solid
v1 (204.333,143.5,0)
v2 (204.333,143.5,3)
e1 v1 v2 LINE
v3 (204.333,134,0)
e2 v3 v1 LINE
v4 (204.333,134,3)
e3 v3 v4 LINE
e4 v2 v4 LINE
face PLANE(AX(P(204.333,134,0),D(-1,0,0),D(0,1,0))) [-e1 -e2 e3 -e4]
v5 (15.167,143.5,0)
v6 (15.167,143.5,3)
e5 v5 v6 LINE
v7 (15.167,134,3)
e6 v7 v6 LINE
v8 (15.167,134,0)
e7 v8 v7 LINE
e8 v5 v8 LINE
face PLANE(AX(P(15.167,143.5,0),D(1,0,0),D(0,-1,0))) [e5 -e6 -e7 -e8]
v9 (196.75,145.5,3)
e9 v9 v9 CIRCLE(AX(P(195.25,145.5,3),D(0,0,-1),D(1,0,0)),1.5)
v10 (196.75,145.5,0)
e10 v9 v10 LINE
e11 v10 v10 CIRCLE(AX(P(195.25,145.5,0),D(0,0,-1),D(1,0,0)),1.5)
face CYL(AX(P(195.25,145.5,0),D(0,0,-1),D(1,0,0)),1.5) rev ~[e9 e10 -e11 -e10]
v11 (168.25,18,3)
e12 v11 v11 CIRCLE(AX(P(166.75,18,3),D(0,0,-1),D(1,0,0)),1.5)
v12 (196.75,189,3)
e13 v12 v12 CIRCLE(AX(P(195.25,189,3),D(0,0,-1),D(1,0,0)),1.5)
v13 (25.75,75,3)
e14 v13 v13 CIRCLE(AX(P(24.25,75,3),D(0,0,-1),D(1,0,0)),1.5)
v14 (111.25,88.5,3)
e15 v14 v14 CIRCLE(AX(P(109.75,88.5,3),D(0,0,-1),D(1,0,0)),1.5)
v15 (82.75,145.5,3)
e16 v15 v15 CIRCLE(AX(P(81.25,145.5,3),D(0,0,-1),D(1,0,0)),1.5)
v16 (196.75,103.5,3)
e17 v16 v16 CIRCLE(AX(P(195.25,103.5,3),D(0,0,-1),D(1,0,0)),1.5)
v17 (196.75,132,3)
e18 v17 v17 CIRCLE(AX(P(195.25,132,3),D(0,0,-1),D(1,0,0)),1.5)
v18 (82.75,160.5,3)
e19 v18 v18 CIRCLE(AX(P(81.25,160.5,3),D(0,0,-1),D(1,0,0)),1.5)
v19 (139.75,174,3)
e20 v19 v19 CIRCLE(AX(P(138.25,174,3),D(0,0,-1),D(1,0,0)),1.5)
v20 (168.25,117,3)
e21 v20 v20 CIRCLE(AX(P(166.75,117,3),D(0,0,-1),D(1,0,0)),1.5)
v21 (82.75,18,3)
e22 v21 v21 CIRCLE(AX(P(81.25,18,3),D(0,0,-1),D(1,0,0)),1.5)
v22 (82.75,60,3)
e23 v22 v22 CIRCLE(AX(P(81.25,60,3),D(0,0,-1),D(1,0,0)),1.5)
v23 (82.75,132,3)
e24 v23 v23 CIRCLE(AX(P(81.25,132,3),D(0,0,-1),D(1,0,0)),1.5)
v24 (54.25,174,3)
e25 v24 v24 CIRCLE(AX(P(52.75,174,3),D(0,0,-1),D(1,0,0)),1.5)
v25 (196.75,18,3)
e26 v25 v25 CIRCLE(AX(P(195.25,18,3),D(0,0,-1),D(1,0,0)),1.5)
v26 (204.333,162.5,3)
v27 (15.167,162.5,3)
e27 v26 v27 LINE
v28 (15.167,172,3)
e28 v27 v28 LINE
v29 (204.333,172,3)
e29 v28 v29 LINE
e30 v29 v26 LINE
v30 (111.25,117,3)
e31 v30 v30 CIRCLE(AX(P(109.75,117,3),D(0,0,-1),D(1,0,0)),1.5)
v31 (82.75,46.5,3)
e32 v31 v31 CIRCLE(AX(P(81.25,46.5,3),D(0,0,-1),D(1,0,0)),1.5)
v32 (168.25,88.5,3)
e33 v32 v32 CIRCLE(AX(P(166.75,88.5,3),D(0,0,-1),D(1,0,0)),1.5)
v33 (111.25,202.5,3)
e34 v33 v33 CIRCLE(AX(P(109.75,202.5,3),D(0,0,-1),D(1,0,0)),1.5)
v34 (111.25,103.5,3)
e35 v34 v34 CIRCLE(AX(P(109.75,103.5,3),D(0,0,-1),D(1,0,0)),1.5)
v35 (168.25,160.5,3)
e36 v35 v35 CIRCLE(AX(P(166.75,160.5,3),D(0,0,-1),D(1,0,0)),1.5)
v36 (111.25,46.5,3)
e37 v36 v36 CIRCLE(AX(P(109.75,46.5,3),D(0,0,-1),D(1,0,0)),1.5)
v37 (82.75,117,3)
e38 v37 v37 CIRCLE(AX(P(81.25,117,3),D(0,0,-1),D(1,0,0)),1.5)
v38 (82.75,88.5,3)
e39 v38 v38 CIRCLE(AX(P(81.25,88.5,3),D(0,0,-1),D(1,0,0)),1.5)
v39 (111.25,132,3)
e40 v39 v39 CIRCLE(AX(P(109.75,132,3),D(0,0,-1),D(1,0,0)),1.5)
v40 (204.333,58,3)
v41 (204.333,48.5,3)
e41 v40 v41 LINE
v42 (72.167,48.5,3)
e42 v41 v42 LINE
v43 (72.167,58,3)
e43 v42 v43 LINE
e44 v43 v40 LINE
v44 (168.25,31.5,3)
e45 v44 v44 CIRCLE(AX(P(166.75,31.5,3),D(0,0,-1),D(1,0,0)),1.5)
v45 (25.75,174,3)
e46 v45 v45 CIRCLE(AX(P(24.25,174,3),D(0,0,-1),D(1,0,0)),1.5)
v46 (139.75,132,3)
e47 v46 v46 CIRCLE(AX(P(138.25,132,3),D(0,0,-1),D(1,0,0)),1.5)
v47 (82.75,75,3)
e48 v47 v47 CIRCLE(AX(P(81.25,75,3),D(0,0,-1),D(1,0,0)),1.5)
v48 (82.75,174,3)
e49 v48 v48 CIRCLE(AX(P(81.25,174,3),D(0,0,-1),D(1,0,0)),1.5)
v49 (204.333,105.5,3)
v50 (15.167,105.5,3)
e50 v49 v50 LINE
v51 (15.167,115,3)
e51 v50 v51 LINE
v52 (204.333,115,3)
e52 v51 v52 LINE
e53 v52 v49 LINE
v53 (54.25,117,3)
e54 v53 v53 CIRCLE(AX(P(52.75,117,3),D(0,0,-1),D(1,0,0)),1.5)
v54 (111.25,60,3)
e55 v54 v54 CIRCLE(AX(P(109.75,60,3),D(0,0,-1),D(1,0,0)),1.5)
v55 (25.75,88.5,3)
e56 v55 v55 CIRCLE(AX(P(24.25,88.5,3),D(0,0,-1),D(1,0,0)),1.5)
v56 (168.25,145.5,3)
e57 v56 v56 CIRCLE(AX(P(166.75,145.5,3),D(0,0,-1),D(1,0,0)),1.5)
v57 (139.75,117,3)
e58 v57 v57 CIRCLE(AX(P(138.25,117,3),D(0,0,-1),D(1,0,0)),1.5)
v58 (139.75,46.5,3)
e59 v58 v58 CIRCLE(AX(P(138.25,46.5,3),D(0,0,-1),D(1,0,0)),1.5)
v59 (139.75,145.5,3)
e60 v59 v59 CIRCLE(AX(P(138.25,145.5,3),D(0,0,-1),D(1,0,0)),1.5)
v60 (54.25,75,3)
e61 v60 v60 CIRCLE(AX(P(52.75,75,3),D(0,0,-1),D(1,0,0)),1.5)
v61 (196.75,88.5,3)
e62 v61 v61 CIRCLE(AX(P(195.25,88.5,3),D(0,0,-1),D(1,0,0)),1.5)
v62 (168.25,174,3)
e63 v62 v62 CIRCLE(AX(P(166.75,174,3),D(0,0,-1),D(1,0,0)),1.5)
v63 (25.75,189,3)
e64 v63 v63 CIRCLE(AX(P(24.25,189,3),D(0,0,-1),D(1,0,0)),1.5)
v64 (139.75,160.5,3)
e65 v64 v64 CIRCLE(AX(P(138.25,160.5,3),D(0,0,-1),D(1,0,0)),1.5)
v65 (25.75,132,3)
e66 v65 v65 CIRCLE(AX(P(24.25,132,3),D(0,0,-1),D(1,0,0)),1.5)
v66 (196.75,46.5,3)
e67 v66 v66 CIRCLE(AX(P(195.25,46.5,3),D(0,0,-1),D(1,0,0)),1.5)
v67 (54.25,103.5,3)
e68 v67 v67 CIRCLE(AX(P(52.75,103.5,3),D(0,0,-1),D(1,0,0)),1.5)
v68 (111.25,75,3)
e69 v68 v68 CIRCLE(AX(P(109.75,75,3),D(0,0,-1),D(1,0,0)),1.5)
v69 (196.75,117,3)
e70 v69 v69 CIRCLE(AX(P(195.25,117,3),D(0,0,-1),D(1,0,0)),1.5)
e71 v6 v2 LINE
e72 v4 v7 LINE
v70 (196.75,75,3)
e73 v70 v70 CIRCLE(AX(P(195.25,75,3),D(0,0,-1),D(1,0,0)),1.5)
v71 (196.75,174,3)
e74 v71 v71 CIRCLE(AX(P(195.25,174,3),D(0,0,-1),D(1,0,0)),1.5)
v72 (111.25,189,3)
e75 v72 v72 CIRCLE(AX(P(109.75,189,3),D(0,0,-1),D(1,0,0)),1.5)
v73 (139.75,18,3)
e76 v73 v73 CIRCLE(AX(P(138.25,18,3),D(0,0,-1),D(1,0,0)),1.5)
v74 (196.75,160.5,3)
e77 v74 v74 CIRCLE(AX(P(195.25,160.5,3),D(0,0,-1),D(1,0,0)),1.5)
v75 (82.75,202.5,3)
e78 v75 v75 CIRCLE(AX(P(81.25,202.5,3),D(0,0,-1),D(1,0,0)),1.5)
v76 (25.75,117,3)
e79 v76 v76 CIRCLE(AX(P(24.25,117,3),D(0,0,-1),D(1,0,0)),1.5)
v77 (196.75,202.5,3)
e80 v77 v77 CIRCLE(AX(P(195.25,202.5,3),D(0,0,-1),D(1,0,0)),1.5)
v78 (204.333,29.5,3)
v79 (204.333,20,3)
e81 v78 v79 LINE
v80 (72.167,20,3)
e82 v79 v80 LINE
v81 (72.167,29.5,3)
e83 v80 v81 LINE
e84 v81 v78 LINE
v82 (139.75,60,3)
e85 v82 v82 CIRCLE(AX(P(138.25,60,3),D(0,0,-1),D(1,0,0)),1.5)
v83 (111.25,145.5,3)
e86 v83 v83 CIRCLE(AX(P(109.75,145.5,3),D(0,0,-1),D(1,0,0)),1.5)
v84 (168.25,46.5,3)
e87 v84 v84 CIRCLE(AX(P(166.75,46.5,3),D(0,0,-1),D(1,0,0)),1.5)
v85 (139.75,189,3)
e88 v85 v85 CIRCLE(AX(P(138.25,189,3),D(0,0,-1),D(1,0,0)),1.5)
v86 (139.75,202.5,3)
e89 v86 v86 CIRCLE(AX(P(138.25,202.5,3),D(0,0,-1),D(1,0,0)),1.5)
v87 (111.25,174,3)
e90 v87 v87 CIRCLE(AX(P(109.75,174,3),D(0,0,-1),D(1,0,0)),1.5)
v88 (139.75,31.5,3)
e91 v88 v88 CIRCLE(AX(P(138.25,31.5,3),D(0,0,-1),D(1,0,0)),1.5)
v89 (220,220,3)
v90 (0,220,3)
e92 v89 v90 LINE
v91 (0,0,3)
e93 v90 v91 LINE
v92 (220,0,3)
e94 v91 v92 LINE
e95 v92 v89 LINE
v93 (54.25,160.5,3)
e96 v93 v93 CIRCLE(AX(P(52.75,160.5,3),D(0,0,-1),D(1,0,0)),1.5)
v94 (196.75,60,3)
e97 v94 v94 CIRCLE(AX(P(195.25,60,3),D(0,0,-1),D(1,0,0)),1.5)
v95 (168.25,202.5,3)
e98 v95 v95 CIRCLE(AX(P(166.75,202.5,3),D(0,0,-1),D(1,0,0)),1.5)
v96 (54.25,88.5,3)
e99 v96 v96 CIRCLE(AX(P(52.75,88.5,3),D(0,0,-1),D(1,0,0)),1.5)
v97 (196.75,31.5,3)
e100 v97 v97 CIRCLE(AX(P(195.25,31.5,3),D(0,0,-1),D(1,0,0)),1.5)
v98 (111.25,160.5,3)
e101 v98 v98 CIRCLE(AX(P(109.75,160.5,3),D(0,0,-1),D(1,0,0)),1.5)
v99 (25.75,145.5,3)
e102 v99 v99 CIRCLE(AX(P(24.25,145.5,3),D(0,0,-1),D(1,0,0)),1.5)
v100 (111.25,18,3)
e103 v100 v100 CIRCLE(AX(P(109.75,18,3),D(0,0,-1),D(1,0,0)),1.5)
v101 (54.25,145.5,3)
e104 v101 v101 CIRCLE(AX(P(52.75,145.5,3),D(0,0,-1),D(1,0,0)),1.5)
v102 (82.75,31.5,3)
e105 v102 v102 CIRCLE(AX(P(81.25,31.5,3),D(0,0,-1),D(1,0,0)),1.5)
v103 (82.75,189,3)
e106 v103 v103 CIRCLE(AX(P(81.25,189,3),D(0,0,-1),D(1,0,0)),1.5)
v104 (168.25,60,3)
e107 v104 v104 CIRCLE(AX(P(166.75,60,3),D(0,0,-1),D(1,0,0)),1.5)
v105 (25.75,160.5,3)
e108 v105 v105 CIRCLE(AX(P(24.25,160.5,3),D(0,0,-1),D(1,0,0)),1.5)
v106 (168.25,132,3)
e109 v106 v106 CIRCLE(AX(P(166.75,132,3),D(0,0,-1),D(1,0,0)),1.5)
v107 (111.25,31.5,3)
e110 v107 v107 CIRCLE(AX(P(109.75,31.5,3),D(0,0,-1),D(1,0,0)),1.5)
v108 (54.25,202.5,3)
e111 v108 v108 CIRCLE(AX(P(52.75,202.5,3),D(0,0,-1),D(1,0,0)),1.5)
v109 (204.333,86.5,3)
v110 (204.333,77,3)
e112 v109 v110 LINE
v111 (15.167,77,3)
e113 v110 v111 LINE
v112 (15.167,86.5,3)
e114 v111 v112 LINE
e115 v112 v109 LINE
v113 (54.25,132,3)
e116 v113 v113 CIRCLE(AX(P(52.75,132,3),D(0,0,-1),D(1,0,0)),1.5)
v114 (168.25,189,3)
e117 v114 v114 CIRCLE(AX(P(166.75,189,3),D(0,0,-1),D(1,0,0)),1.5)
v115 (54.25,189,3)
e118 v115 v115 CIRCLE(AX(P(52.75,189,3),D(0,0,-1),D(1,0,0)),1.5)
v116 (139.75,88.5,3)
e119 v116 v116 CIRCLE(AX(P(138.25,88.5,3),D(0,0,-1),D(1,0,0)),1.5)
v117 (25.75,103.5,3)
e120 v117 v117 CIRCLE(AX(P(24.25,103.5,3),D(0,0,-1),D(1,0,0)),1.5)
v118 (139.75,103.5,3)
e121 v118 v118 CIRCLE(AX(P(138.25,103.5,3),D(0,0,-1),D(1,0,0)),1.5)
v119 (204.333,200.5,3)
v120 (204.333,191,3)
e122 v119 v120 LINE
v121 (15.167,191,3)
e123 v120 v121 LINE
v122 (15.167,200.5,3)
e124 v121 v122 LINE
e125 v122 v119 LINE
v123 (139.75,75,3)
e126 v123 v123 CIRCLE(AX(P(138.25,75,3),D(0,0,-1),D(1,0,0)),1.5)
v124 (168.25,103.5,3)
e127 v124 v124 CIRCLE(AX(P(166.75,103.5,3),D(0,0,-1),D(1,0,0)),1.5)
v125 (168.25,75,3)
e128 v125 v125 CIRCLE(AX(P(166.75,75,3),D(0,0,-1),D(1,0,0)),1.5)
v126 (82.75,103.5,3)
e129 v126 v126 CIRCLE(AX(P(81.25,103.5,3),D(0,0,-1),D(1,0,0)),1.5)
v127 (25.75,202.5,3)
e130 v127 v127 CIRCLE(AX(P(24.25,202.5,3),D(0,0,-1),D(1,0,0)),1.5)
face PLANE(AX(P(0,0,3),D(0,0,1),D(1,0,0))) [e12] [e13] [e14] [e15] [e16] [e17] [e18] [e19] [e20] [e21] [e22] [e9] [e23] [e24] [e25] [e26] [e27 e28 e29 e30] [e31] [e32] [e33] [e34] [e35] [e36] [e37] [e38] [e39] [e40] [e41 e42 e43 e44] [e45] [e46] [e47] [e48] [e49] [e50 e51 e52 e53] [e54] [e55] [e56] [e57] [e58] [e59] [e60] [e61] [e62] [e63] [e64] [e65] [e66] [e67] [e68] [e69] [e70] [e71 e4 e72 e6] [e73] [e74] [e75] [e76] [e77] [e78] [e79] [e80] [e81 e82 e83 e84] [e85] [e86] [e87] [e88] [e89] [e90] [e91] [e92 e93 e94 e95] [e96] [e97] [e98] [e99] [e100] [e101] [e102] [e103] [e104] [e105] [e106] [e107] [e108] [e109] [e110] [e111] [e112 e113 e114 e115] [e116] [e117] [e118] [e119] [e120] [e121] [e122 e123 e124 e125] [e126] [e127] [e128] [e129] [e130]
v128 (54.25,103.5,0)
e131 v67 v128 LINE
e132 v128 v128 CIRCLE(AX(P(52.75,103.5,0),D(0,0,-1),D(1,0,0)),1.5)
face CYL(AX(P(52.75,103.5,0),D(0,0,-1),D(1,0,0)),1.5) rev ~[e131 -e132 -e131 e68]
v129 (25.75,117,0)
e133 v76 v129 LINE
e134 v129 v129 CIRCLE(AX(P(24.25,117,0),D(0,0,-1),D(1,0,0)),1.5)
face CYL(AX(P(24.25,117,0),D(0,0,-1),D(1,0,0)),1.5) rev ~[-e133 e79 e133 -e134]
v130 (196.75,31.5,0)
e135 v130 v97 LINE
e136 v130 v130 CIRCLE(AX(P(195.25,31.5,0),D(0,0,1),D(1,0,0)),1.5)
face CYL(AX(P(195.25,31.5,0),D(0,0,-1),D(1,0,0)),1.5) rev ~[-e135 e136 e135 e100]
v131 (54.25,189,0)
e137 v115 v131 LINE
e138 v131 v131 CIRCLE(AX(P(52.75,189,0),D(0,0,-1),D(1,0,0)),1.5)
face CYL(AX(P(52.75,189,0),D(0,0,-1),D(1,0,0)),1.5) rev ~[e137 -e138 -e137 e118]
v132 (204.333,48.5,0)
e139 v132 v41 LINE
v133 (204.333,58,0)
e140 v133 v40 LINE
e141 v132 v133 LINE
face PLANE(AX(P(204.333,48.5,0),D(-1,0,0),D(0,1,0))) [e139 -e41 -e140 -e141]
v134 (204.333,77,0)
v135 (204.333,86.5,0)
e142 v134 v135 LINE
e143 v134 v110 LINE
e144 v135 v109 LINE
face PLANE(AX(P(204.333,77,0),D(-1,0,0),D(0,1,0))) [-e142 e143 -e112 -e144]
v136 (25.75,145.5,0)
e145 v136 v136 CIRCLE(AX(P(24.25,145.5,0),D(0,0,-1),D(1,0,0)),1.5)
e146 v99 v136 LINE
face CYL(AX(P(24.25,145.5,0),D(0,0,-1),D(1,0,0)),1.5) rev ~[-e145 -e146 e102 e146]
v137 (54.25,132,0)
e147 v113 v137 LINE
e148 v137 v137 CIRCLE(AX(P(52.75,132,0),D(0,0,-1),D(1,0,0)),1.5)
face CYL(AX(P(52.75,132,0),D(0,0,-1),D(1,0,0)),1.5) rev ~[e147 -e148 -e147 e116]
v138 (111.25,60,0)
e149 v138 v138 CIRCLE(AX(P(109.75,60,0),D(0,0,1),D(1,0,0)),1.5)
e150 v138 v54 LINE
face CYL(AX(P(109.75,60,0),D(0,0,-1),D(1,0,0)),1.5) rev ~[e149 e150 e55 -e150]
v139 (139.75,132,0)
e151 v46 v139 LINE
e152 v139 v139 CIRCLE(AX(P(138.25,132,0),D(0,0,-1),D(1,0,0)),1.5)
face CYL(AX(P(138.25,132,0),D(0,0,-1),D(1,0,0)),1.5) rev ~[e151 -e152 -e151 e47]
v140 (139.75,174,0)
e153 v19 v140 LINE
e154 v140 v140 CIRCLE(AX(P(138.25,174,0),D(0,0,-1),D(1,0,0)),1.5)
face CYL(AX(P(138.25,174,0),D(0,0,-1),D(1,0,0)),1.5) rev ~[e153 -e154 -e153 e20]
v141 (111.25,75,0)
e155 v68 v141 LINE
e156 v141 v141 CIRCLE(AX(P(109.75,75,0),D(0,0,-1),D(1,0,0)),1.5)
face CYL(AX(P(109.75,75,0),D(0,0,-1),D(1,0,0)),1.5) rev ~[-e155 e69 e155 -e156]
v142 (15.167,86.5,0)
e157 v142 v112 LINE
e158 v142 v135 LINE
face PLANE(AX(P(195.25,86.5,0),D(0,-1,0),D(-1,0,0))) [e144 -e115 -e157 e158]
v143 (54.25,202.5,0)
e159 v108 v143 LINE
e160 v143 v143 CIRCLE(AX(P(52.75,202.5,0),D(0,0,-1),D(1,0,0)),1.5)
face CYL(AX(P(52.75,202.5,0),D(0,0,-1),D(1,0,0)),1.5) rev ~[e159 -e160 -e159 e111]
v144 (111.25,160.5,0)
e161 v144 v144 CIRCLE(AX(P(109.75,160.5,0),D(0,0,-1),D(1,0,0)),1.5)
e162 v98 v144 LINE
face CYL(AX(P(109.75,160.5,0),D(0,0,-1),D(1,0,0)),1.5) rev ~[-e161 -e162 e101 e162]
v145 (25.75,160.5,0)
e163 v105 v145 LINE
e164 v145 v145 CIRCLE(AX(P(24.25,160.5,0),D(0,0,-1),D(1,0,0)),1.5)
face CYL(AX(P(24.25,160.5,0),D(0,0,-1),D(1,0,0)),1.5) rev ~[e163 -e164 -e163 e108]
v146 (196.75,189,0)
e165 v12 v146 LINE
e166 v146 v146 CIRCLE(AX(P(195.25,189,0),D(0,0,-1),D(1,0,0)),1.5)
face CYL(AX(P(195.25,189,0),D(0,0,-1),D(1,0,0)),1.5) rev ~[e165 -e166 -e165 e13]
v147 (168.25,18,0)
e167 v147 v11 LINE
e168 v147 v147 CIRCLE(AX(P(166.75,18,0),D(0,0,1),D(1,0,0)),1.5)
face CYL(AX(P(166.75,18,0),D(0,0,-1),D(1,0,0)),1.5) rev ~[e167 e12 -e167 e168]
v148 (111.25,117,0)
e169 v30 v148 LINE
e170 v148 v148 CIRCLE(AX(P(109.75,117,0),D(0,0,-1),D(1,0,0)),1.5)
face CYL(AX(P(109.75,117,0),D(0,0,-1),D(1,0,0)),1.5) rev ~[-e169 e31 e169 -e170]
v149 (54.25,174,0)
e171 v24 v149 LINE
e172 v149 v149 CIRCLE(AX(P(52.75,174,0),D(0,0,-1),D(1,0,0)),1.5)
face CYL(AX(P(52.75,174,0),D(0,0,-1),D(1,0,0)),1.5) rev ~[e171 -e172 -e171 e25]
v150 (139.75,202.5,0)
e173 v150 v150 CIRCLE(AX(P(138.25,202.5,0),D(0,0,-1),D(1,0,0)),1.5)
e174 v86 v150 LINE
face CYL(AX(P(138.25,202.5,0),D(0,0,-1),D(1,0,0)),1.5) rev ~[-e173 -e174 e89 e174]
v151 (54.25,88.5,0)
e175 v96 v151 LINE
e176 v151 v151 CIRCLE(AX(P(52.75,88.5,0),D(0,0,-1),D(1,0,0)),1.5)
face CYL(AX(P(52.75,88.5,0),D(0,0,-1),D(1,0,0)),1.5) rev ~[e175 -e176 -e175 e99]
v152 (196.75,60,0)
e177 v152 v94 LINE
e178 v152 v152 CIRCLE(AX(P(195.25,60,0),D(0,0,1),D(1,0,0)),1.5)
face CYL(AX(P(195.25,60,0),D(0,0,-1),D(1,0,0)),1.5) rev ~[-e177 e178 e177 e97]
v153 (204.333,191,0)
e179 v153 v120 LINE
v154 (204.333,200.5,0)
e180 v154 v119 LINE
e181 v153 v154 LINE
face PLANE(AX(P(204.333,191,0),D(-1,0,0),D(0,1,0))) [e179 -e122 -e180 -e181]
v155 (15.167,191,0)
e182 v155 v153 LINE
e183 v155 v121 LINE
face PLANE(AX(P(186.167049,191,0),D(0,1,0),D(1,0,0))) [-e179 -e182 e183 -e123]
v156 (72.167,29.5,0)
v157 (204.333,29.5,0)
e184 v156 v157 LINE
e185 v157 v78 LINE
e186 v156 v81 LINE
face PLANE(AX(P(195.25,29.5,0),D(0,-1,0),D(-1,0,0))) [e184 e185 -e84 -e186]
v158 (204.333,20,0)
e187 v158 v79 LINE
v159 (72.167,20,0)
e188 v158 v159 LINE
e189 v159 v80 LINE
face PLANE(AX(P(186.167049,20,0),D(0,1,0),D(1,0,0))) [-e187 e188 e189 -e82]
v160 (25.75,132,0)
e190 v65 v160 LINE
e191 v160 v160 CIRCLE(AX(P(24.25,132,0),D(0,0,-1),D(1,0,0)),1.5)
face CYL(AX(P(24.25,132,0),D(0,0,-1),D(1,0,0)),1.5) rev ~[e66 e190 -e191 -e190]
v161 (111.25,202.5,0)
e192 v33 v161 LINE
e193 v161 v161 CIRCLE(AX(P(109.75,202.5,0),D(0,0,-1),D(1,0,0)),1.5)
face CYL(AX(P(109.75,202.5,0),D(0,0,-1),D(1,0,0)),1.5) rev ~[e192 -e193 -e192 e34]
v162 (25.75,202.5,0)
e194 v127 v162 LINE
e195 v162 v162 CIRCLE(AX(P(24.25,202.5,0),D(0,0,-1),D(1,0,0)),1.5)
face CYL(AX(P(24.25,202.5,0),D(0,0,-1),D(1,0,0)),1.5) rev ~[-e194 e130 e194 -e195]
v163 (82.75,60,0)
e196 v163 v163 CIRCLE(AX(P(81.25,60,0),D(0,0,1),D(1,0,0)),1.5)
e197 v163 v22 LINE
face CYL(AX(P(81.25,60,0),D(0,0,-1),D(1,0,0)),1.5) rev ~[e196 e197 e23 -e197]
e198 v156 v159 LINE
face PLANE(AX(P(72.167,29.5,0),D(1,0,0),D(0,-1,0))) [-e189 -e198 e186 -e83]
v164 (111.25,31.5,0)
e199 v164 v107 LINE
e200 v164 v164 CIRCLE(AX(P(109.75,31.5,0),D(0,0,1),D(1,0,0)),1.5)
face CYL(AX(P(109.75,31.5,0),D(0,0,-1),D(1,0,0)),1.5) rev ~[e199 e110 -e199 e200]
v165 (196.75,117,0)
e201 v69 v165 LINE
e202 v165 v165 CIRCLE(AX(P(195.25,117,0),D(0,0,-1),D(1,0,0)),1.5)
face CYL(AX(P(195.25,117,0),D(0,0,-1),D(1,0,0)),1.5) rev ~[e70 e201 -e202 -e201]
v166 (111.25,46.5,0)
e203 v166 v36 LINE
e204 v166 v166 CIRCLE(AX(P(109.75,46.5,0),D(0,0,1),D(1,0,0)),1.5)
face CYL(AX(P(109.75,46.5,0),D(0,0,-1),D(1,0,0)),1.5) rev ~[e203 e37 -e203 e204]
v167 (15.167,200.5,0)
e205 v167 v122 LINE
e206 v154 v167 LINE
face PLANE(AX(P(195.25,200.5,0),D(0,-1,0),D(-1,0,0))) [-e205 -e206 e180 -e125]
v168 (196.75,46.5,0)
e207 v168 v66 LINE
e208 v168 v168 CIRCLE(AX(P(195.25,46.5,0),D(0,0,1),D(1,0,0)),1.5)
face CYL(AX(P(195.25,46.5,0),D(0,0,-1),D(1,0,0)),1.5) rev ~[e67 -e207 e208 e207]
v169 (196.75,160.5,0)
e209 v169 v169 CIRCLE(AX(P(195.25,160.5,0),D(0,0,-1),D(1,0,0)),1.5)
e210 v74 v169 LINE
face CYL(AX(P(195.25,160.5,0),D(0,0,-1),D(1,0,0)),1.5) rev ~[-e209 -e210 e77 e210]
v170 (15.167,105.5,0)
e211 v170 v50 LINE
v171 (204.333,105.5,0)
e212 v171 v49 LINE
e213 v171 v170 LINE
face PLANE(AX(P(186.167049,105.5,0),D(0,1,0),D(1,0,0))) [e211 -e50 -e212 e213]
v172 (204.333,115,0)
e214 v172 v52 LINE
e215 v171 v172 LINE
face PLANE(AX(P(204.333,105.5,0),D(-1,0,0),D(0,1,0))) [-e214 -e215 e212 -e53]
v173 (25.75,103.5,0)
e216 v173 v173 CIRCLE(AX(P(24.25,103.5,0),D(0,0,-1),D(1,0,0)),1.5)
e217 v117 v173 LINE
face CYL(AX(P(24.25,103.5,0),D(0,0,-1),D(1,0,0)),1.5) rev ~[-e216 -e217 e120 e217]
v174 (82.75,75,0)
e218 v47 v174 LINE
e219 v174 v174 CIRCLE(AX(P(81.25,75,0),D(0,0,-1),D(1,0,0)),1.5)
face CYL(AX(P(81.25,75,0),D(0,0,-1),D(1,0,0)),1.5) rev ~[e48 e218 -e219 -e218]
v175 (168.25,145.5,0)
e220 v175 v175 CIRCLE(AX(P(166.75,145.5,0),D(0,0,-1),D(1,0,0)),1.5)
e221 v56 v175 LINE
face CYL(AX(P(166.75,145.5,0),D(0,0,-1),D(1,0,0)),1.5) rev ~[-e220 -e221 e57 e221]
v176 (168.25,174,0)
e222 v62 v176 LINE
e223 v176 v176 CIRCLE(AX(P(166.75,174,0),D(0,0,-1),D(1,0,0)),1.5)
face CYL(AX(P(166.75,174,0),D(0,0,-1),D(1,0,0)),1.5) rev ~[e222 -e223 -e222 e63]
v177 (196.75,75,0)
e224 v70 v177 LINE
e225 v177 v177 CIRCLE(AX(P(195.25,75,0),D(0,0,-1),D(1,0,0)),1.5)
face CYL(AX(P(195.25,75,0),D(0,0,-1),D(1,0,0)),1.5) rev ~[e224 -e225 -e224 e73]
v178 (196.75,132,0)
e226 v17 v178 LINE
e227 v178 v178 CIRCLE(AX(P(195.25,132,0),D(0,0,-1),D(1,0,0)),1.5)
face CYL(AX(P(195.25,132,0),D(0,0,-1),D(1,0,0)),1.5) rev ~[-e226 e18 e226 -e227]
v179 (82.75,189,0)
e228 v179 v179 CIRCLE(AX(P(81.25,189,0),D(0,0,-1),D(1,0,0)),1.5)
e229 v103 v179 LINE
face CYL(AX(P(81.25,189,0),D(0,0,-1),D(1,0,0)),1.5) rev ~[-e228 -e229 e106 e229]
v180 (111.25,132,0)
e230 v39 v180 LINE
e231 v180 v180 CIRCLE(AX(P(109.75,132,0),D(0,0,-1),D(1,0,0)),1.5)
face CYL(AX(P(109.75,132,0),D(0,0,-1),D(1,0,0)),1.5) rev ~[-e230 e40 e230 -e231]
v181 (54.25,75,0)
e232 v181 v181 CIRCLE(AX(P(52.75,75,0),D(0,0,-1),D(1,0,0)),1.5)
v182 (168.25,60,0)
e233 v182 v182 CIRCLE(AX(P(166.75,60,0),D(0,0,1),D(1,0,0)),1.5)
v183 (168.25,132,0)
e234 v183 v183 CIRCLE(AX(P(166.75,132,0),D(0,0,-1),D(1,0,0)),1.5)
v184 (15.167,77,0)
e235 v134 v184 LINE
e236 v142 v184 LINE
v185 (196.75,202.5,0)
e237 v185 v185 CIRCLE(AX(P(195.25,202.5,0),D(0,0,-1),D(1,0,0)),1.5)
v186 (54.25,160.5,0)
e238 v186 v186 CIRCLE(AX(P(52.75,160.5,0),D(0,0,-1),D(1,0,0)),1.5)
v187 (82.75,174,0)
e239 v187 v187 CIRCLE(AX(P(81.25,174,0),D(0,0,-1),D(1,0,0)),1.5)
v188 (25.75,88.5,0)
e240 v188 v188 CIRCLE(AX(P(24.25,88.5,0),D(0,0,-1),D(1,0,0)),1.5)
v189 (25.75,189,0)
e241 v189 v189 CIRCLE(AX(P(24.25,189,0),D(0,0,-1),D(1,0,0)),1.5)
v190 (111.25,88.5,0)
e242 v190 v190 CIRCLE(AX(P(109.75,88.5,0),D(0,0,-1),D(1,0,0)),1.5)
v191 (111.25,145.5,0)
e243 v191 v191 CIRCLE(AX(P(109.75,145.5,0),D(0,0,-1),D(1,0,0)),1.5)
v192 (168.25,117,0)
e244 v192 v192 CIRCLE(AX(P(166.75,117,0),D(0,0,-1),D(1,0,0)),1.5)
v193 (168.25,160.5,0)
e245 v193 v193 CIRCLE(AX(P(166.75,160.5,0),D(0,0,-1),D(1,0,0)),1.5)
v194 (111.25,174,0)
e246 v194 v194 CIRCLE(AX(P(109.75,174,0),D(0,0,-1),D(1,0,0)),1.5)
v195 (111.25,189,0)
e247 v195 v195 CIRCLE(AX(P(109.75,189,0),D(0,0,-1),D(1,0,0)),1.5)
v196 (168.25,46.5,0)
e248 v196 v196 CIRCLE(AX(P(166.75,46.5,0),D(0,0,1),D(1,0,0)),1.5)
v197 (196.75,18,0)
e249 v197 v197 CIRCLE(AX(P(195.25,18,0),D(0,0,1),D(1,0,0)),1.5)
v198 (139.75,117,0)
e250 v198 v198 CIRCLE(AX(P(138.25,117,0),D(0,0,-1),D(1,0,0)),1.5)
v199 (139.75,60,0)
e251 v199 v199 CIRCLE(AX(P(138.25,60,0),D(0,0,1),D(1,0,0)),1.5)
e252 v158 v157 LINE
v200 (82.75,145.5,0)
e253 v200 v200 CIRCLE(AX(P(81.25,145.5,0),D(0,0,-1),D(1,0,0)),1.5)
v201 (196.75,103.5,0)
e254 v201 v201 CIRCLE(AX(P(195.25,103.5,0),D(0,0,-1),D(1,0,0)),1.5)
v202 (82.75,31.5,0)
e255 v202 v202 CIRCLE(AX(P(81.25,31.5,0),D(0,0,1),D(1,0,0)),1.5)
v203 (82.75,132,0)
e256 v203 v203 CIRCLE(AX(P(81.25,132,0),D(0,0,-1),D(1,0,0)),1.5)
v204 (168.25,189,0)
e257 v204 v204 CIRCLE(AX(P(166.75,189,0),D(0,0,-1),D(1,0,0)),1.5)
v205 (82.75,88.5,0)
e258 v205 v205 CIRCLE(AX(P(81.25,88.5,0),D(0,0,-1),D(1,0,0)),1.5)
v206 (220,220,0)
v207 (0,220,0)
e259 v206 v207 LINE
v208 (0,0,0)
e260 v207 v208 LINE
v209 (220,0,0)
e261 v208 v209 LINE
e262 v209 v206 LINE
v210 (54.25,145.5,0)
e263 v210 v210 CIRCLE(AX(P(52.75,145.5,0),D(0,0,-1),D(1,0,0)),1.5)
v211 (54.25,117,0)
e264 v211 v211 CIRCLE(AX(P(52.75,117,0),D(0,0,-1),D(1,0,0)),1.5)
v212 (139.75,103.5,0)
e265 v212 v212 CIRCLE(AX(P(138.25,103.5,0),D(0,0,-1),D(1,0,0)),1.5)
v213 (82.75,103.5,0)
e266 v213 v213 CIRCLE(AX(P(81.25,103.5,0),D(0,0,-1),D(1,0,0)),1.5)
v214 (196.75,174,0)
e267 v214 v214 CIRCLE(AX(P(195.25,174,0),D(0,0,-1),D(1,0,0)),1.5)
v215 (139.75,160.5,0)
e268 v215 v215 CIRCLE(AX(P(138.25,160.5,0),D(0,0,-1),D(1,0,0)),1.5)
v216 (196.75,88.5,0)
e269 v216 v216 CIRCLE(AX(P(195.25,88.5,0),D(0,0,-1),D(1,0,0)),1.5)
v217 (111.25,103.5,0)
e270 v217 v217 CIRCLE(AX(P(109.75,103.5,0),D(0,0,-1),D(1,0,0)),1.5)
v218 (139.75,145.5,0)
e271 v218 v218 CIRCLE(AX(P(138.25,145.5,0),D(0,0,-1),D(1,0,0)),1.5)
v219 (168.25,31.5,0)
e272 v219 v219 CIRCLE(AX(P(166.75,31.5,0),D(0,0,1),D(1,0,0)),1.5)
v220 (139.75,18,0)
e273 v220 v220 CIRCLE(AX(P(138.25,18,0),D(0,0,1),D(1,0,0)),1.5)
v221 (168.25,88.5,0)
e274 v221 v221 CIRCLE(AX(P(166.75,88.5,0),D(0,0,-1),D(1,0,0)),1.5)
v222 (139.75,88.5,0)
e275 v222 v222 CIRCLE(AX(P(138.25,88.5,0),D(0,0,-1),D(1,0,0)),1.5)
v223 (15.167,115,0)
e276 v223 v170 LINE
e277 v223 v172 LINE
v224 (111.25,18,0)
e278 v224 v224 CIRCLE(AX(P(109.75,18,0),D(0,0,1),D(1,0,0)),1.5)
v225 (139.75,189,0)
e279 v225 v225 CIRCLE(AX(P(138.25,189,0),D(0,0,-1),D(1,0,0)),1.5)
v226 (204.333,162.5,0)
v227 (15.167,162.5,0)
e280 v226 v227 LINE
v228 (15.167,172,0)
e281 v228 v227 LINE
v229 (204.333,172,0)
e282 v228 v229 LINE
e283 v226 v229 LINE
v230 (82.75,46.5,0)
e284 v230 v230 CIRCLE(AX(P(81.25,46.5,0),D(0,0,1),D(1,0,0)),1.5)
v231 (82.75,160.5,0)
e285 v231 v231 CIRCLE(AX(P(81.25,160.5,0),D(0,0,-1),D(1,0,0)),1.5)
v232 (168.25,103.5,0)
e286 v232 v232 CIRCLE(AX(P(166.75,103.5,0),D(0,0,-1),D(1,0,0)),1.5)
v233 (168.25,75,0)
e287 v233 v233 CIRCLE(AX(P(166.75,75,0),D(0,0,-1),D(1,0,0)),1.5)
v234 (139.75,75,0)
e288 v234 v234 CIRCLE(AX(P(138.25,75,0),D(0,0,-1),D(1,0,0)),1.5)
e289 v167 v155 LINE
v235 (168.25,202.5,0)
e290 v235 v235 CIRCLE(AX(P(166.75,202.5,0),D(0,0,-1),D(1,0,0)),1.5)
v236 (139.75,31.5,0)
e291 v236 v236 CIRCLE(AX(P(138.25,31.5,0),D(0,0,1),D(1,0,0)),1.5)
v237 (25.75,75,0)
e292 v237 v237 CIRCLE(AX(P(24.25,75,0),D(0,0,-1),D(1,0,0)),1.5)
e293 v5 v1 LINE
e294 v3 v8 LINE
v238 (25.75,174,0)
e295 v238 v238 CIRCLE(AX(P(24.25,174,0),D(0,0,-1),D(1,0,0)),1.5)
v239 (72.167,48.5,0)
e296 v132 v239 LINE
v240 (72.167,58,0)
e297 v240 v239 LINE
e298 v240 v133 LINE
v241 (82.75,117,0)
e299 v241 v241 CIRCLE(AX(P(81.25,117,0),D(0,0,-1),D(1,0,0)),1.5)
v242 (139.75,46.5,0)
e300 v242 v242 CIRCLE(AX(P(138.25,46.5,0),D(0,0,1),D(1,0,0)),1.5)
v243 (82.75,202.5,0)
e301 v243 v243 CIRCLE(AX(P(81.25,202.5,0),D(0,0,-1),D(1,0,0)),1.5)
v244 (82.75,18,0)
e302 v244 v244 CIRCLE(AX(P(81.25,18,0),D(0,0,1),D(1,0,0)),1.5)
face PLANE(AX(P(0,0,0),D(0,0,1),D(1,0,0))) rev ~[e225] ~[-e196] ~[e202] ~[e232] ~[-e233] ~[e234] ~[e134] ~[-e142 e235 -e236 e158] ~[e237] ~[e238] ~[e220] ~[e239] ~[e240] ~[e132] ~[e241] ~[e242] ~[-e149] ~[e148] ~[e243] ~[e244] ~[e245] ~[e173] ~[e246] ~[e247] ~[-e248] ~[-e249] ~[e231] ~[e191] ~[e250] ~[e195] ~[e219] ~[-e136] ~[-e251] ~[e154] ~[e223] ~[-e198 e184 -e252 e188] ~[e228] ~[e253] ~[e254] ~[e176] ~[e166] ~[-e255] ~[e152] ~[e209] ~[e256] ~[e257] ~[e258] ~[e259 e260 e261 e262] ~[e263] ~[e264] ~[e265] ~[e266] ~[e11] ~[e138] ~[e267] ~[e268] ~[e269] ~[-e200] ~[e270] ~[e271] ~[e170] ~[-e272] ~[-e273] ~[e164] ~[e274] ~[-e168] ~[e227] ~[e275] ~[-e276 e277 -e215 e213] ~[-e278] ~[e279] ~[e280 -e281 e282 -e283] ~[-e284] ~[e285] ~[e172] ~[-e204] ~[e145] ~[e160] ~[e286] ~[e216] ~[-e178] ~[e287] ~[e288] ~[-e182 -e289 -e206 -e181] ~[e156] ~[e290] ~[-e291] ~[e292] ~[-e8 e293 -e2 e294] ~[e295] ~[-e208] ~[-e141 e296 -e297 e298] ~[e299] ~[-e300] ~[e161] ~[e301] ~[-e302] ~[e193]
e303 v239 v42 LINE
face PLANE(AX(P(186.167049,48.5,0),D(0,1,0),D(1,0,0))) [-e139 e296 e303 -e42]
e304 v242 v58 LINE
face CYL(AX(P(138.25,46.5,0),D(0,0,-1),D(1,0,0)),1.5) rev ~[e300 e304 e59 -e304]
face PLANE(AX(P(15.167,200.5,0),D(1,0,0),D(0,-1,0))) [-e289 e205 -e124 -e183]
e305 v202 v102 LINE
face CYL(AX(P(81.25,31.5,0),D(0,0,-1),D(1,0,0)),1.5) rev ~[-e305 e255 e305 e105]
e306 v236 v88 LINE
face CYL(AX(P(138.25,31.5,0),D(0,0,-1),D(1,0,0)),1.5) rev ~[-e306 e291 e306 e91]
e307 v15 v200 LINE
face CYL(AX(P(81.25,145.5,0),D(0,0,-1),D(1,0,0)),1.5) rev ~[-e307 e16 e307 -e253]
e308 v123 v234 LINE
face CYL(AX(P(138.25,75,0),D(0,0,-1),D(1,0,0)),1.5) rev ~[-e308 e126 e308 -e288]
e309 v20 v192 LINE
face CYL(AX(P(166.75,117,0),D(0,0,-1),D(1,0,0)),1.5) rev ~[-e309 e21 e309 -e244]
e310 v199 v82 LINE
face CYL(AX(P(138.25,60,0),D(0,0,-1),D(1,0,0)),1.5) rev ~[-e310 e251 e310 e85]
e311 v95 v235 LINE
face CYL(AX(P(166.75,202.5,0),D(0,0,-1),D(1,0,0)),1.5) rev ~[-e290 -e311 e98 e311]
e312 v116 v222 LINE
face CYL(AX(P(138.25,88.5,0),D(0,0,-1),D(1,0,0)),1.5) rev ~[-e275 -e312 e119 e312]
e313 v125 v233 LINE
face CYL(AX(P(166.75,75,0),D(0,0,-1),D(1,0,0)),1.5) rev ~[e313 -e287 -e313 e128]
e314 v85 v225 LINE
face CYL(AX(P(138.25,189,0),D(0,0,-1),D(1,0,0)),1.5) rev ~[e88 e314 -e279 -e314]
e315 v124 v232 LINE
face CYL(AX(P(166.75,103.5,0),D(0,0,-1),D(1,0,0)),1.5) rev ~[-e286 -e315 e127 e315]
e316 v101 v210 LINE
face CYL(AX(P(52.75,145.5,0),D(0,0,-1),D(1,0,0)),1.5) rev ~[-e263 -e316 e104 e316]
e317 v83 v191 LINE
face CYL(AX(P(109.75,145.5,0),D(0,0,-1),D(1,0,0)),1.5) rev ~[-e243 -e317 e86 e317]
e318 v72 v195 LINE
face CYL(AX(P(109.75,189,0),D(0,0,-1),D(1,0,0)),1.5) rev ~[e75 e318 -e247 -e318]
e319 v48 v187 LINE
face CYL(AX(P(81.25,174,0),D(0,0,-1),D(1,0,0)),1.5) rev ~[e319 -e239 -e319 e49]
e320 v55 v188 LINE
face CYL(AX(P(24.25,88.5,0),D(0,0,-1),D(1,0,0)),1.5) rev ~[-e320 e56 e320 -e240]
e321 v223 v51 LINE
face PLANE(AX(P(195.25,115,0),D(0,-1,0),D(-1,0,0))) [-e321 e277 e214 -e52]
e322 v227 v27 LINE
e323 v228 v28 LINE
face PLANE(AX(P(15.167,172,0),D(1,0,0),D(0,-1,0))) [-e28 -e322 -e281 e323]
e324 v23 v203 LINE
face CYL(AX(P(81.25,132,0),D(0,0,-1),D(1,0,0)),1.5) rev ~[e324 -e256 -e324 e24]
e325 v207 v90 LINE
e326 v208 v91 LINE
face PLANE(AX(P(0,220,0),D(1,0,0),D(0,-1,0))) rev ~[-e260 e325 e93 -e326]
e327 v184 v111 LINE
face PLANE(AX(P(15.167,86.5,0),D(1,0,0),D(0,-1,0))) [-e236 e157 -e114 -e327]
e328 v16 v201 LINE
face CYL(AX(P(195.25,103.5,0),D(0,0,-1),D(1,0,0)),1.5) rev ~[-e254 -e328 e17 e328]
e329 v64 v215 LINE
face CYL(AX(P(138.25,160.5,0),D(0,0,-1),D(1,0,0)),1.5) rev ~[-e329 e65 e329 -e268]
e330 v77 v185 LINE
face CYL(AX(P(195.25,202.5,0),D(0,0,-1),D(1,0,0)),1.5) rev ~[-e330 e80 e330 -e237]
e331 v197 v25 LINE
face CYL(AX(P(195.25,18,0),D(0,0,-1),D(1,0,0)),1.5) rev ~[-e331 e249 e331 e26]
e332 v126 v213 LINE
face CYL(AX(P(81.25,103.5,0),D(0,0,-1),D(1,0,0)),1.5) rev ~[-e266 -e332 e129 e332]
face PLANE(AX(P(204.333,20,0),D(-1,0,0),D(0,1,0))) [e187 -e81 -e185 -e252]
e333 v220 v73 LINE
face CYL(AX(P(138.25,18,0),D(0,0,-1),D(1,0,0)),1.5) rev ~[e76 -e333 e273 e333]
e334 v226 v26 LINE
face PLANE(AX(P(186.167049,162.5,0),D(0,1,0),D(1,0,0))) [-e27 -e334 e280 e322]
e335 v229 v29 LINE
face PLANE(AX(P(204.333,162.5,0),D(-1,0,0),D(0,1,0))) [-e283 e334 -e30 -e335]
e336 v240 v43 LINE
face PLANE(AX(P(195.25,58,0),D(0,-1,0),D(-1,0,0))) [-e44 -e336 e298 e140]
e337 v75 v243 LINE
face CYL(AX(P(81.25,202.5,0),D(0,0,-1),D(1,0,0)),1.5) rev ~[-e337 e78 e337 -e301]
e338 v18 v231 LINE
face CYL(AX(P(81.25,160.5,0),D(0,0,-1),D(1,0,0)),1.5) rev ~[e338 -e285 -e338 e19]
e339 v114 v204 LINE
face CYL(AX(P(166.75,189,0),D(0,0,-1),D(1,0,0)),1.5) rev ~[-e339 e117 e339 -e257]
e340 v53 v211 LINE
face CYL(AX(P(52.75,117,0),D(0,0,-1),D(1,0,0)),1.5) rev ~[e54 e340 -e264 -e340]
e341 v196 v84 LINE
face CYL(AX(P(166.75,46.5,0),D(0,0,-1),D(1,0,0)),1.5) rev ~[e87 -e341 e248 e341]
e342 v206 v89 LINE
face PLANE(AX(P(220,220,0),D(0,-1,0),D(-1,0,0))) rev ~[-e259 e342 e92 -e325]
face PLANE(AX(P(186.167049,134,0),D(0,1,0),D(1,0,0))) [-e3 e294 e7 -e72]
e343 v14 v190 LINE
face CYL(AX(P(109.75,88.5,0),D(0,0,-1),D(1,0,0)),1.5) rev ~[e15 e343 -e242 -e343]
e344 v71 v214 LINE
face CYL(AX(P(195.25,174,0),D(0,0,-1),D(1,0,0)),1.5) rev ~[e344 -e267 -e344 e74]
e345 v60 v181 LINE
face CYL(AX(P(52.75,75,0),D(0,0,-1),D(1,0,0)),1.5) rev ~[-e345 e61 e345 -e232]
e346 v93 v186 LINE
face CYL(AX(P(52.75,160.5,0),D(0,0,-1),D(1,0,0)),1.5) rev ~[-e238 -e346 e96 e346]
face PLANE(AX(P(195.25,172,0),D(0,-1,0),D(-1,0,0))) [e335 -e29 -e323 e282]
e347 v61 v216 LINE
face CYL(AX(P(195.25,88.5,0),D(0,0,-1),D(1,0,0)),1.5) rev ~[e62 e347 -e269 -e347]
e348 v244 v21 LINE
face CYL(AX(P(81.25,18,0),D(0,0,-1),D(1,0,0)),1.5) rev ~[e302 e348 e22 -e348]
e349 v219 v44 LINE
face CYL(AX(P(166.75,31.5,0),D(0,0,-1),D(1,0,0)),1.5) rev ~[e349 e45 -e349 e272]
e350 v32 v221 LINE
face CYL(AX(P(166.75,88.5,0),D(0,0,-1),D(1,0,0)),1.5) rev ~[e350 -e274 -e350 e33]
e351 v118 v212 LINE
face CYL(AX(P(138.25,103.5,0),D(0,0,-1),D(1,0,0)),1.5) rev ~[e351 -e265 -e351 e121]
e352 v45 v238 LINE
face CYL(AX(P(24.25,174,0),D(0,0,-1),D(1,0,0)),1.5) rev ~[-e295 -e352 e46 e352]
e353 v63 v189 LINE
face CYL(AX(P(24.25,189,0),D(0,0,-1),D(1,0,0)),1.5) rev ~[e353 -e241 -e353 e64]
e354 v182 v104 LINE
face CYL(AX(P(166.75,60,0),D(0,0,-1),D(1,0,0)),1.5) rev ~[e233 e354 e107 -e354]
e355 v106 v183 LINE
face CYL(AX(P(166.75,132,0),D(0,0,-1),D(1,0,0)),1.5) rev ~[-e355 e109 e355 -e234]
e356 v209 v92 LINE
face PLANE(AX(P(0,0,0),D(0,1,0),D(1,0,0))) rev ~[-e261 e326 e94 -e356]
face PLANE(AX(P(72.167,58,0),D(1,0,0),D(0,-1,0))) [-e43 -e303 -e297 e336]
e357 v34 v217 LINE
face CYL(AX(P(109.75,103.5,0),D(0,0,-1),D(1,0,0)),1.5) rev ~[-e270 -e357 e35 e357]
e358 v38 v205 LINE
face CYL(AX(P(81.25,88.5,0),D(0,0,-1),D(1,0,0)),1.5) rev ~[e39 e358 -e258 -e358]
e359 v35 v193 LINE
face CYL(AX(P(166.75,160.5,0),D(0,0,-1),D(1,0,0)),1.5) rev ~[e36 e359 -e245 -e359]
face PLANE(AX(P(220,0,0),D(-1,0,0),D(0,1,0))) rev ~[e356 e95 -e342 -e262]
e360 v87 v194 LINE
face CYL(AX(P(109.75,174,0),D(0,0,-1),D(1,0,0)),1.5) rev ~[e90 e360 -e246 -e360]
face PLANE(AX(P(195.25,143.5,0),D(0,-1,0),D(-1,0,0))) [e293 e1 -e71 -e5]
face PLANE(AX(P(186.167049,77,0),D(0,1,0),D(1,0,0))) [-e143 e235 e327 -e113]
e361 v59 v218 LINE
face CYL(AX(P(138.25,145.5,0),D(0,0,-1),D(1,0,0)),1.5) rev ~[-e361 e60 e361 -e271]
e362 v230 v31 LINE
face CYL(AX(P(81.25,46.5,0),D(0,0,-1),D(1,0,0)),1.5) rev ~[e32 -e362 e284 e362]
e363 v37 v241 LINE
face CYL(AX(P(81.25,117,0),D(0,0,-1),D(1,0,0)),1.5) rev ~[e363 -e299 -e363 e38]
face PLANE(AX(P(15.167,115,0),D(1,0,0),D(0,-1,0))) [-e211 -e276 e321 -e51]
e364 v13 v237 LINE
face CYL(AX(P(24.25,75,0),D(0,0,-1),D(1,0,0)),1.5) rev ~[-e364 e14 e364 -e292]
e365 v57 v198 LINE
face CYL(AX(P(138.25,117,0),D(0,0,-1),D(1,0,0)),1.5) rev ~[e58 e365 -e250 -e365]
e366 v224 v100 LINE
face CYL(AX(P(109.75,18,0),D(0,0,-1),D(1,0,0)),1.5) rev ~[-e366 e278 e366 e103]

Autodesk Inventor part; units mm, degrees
ref_plane "YZ Plane" through (0, 0, 0) normal (1, 0, 0) x (0, 1, 0)
ref_plane "XZ Plane" through (0, 0, 0) normal (0, 1, 0) x (-1, 0, 0)
ref_plane "XY Plane" through (0, 0, 0) normal (0, 0, 1) x (1, 0, 0)
sketch "Sketch1" plane through (0, 0, 0) normal (0, 0, 1) x (1, 0, 0)
  line L0 (0, 0) -> (220, 0)
  line L1 (220, 0) -> (220, 220)
  line L2 (220, 220) -> (0, 220)
  line L3 (0, 220) -> (0, 0)
  dimension "d0" = 220
  dimension "d1" = 220
extrude "Extrusion1" add sketch "Sketch1" along normal blind 3
sketch "Sketch5" plane through (0, 0, 3) normal (0, 0, 1) x (1, 0, 0)
  circle A0 centre (24.25, 195.75) radius 10.25 projected
  circle A1 centre (24.25, 195.75) radius 10.25
  point P0 (0, 0)
extrude "Extrusion5" add sketch "Sketch5" against normal blind 3
pattern_linear "Rectangular Pattern3" count 7 spacing 28.5 along (1, 0, 0) count 5 spacing 28.5 along (0, -1, 0) of "Extrusion5"
sketch "Sketch6" plane through (0, 0, 3) normal (0, 0, 1) x (1, 0, 0)
  circle A0 centre (195.25, 24.75) radius 10.25 projected
  circle A1 centre (195.25, 24.75) radius 10.25
  point P0 (0, 0)
extrude "Extrusion6" add sketch "Sketch6" against normal blind 3
pattern_linear "Rectangular Pattern4" count 5 spacing 28.5 along (-1, 0, 0) count 2 spacing 28.5 along (0, 1, 0) of "Extrusion6"
sketch "Sketch7" plane through (195.25, 195.75, 0) normal (0, 0, -1) x (1, 0, 0)
  line L0 (0, 0) -> (0, -6.75)
  line L1 (0, -6.75) -> (0, 6.75)
  circle A0 centre (0, 6.75) radius 1.5
  circle A1 centre (0, -6.75) radius 1.5
  point P0 (-195.25, 195.75)
  dimension "d52" = 6.75
  dimension "d53" = 13.5
  dimension "d54" = 3
  dimension "d55" = 3
extrude "Extrusion7" cut sketch "Sketch7" along normal mid plane 10
pattern_linear "Rectangular Pattern5" count 7 spacing 28.5 along (-1, 0, 0) count 5 spacing 28.5 along (0, -1, 0) of "Extrusion7"
sketch "Sketch8" plane through (195.25, 53.25, 0) normal (0, 0, -1) x (1, 0, 0)
  line L0 (0, 0) -> (0, -6.75)
  line L1 (0, -6.75) -> (0, 6.75)
  circle A0 centre (0, -6.75) radius 1.5
  circle A1 centre (0, 6.75) radius 1.5
  point P0 (-195.25, 53.25)
  dimension "d64" = 6.75
  dimension "d65" = 13.5
  dimension "d66" = 3
  dimension "d67" = 3
extrude "Extrusion8" cut sketch "Sketch8" against normal blind 3
pattern_linear "Rectangular Pattern6" count 5 spacing 28.5 along (-1, 0, 0) count 2 spacing 28.5 along (0, -1, 0) of "Extrusion8"
sketch "Sketch9" plane through (195.25, 195.75, 0) normal (0, 0, -1) x (1, 0, 0)
  circle A0 centre (0, 0) radius 4.75
  line L0 (0, -4.75) -> (9.083, -4.75)
  circle A1 centre (0, 0) radius 10.25 projected
  circle A2 centre (-171, 0) radius 10.25 projected
  line L1 (9.083, -4.75) -> (-180.083, -4.75)
  line L2 (-180.083, -4.75) -> (-180.083, 4.75)
  line L3 (-180.083, 4.75) -> (9.083, 4.75)
  line L4 (9.083, 4.75) -> (9.083, -4.75)
  point P0 (-195.25, 195.75)
  dimension "d76" = 9.5
extrude "Extrusion9" cut sketch "Sketch9" against normal blind 3 contours A0
sketch "Sketch10" plane through (195.25, 195.75, 0) normal (0, 0, -1) x (1, 0, 0)
  circle A0 centre (0, 0) radius 4.75 projected
  line L0 (0, -4.75) -> (9.083, -4.75)
  circle A1 centre (0, 0) radius 10.25 projected
  circle A2 centre (-171, 0) radius 10.25 projected
  line L1 (9.083, -4.75) -> (-180.083, -4.75)
  line L2 (-180.083, -4.75) -> (-180.083, 4.75)
  line L3 (-180.083, 4.75) -> (9.083, 4.75)
  line L4 (9.083, 4.75) -> (9.083, -4.75)
  point P0 (-195.25, 195.75)
  point P1 (0, -4.75)
extrude "Extrusion10" cut sketch "Sketch10" against normal blind 6 contours A0 | L1 A1 L3 A0 | A0 L3 L4 L0 | L1 A2 L3 A1 | L1 L2 L3 A2
pattern_linear "Rectangular Pattern7" count 5 spacing 28.5 along (0, -1, 0) of "Extrusion10"
sketch "Sketch11" plane through (195.25, 53.25, 0) normal (0, 0, -1) x (1, 0, 0)
  circle A0 centre (0, 0) radius 4.75
  line L0 (0, -4.75) -> (9.083, -4.75)
  circle A1 centre (0, 0) radius 10.25 projected
  circle A2 centre (-114, 0) radius 10.25 projected
  line L1 (9.083, -4.75) -> (-123.083, -4.75)
  line L2 (-123.083, -4.75) -> (-123.083, 4.75)
  line L3 (-123.083, 4.75) -> (9.083, 4.75)
  line L4 (9.083, 4.75) -> (9.083, -4.75)
  point P0 (-195.25, 53.25)
  point P1 (-104.917, 4.75)
  point P2 (-104.917, -4.75)
  point P3 (0, -4.75)
  dimension "d84" = 9.5
extrude "Extrusion11" cut sketch "Sketch11" against normal blind 6 contours A0 | L1 A1 L3 A0 | A0 L3 L4 L0 | L1 A2 L3 A1 | L1 L2 L3 A2
pattern_linear "Rectangular Pattern9" count 2 spacing 28.5 along (0, -1, 0) of "Extrusion11"
properties part number "plade til motorer_MLH"
